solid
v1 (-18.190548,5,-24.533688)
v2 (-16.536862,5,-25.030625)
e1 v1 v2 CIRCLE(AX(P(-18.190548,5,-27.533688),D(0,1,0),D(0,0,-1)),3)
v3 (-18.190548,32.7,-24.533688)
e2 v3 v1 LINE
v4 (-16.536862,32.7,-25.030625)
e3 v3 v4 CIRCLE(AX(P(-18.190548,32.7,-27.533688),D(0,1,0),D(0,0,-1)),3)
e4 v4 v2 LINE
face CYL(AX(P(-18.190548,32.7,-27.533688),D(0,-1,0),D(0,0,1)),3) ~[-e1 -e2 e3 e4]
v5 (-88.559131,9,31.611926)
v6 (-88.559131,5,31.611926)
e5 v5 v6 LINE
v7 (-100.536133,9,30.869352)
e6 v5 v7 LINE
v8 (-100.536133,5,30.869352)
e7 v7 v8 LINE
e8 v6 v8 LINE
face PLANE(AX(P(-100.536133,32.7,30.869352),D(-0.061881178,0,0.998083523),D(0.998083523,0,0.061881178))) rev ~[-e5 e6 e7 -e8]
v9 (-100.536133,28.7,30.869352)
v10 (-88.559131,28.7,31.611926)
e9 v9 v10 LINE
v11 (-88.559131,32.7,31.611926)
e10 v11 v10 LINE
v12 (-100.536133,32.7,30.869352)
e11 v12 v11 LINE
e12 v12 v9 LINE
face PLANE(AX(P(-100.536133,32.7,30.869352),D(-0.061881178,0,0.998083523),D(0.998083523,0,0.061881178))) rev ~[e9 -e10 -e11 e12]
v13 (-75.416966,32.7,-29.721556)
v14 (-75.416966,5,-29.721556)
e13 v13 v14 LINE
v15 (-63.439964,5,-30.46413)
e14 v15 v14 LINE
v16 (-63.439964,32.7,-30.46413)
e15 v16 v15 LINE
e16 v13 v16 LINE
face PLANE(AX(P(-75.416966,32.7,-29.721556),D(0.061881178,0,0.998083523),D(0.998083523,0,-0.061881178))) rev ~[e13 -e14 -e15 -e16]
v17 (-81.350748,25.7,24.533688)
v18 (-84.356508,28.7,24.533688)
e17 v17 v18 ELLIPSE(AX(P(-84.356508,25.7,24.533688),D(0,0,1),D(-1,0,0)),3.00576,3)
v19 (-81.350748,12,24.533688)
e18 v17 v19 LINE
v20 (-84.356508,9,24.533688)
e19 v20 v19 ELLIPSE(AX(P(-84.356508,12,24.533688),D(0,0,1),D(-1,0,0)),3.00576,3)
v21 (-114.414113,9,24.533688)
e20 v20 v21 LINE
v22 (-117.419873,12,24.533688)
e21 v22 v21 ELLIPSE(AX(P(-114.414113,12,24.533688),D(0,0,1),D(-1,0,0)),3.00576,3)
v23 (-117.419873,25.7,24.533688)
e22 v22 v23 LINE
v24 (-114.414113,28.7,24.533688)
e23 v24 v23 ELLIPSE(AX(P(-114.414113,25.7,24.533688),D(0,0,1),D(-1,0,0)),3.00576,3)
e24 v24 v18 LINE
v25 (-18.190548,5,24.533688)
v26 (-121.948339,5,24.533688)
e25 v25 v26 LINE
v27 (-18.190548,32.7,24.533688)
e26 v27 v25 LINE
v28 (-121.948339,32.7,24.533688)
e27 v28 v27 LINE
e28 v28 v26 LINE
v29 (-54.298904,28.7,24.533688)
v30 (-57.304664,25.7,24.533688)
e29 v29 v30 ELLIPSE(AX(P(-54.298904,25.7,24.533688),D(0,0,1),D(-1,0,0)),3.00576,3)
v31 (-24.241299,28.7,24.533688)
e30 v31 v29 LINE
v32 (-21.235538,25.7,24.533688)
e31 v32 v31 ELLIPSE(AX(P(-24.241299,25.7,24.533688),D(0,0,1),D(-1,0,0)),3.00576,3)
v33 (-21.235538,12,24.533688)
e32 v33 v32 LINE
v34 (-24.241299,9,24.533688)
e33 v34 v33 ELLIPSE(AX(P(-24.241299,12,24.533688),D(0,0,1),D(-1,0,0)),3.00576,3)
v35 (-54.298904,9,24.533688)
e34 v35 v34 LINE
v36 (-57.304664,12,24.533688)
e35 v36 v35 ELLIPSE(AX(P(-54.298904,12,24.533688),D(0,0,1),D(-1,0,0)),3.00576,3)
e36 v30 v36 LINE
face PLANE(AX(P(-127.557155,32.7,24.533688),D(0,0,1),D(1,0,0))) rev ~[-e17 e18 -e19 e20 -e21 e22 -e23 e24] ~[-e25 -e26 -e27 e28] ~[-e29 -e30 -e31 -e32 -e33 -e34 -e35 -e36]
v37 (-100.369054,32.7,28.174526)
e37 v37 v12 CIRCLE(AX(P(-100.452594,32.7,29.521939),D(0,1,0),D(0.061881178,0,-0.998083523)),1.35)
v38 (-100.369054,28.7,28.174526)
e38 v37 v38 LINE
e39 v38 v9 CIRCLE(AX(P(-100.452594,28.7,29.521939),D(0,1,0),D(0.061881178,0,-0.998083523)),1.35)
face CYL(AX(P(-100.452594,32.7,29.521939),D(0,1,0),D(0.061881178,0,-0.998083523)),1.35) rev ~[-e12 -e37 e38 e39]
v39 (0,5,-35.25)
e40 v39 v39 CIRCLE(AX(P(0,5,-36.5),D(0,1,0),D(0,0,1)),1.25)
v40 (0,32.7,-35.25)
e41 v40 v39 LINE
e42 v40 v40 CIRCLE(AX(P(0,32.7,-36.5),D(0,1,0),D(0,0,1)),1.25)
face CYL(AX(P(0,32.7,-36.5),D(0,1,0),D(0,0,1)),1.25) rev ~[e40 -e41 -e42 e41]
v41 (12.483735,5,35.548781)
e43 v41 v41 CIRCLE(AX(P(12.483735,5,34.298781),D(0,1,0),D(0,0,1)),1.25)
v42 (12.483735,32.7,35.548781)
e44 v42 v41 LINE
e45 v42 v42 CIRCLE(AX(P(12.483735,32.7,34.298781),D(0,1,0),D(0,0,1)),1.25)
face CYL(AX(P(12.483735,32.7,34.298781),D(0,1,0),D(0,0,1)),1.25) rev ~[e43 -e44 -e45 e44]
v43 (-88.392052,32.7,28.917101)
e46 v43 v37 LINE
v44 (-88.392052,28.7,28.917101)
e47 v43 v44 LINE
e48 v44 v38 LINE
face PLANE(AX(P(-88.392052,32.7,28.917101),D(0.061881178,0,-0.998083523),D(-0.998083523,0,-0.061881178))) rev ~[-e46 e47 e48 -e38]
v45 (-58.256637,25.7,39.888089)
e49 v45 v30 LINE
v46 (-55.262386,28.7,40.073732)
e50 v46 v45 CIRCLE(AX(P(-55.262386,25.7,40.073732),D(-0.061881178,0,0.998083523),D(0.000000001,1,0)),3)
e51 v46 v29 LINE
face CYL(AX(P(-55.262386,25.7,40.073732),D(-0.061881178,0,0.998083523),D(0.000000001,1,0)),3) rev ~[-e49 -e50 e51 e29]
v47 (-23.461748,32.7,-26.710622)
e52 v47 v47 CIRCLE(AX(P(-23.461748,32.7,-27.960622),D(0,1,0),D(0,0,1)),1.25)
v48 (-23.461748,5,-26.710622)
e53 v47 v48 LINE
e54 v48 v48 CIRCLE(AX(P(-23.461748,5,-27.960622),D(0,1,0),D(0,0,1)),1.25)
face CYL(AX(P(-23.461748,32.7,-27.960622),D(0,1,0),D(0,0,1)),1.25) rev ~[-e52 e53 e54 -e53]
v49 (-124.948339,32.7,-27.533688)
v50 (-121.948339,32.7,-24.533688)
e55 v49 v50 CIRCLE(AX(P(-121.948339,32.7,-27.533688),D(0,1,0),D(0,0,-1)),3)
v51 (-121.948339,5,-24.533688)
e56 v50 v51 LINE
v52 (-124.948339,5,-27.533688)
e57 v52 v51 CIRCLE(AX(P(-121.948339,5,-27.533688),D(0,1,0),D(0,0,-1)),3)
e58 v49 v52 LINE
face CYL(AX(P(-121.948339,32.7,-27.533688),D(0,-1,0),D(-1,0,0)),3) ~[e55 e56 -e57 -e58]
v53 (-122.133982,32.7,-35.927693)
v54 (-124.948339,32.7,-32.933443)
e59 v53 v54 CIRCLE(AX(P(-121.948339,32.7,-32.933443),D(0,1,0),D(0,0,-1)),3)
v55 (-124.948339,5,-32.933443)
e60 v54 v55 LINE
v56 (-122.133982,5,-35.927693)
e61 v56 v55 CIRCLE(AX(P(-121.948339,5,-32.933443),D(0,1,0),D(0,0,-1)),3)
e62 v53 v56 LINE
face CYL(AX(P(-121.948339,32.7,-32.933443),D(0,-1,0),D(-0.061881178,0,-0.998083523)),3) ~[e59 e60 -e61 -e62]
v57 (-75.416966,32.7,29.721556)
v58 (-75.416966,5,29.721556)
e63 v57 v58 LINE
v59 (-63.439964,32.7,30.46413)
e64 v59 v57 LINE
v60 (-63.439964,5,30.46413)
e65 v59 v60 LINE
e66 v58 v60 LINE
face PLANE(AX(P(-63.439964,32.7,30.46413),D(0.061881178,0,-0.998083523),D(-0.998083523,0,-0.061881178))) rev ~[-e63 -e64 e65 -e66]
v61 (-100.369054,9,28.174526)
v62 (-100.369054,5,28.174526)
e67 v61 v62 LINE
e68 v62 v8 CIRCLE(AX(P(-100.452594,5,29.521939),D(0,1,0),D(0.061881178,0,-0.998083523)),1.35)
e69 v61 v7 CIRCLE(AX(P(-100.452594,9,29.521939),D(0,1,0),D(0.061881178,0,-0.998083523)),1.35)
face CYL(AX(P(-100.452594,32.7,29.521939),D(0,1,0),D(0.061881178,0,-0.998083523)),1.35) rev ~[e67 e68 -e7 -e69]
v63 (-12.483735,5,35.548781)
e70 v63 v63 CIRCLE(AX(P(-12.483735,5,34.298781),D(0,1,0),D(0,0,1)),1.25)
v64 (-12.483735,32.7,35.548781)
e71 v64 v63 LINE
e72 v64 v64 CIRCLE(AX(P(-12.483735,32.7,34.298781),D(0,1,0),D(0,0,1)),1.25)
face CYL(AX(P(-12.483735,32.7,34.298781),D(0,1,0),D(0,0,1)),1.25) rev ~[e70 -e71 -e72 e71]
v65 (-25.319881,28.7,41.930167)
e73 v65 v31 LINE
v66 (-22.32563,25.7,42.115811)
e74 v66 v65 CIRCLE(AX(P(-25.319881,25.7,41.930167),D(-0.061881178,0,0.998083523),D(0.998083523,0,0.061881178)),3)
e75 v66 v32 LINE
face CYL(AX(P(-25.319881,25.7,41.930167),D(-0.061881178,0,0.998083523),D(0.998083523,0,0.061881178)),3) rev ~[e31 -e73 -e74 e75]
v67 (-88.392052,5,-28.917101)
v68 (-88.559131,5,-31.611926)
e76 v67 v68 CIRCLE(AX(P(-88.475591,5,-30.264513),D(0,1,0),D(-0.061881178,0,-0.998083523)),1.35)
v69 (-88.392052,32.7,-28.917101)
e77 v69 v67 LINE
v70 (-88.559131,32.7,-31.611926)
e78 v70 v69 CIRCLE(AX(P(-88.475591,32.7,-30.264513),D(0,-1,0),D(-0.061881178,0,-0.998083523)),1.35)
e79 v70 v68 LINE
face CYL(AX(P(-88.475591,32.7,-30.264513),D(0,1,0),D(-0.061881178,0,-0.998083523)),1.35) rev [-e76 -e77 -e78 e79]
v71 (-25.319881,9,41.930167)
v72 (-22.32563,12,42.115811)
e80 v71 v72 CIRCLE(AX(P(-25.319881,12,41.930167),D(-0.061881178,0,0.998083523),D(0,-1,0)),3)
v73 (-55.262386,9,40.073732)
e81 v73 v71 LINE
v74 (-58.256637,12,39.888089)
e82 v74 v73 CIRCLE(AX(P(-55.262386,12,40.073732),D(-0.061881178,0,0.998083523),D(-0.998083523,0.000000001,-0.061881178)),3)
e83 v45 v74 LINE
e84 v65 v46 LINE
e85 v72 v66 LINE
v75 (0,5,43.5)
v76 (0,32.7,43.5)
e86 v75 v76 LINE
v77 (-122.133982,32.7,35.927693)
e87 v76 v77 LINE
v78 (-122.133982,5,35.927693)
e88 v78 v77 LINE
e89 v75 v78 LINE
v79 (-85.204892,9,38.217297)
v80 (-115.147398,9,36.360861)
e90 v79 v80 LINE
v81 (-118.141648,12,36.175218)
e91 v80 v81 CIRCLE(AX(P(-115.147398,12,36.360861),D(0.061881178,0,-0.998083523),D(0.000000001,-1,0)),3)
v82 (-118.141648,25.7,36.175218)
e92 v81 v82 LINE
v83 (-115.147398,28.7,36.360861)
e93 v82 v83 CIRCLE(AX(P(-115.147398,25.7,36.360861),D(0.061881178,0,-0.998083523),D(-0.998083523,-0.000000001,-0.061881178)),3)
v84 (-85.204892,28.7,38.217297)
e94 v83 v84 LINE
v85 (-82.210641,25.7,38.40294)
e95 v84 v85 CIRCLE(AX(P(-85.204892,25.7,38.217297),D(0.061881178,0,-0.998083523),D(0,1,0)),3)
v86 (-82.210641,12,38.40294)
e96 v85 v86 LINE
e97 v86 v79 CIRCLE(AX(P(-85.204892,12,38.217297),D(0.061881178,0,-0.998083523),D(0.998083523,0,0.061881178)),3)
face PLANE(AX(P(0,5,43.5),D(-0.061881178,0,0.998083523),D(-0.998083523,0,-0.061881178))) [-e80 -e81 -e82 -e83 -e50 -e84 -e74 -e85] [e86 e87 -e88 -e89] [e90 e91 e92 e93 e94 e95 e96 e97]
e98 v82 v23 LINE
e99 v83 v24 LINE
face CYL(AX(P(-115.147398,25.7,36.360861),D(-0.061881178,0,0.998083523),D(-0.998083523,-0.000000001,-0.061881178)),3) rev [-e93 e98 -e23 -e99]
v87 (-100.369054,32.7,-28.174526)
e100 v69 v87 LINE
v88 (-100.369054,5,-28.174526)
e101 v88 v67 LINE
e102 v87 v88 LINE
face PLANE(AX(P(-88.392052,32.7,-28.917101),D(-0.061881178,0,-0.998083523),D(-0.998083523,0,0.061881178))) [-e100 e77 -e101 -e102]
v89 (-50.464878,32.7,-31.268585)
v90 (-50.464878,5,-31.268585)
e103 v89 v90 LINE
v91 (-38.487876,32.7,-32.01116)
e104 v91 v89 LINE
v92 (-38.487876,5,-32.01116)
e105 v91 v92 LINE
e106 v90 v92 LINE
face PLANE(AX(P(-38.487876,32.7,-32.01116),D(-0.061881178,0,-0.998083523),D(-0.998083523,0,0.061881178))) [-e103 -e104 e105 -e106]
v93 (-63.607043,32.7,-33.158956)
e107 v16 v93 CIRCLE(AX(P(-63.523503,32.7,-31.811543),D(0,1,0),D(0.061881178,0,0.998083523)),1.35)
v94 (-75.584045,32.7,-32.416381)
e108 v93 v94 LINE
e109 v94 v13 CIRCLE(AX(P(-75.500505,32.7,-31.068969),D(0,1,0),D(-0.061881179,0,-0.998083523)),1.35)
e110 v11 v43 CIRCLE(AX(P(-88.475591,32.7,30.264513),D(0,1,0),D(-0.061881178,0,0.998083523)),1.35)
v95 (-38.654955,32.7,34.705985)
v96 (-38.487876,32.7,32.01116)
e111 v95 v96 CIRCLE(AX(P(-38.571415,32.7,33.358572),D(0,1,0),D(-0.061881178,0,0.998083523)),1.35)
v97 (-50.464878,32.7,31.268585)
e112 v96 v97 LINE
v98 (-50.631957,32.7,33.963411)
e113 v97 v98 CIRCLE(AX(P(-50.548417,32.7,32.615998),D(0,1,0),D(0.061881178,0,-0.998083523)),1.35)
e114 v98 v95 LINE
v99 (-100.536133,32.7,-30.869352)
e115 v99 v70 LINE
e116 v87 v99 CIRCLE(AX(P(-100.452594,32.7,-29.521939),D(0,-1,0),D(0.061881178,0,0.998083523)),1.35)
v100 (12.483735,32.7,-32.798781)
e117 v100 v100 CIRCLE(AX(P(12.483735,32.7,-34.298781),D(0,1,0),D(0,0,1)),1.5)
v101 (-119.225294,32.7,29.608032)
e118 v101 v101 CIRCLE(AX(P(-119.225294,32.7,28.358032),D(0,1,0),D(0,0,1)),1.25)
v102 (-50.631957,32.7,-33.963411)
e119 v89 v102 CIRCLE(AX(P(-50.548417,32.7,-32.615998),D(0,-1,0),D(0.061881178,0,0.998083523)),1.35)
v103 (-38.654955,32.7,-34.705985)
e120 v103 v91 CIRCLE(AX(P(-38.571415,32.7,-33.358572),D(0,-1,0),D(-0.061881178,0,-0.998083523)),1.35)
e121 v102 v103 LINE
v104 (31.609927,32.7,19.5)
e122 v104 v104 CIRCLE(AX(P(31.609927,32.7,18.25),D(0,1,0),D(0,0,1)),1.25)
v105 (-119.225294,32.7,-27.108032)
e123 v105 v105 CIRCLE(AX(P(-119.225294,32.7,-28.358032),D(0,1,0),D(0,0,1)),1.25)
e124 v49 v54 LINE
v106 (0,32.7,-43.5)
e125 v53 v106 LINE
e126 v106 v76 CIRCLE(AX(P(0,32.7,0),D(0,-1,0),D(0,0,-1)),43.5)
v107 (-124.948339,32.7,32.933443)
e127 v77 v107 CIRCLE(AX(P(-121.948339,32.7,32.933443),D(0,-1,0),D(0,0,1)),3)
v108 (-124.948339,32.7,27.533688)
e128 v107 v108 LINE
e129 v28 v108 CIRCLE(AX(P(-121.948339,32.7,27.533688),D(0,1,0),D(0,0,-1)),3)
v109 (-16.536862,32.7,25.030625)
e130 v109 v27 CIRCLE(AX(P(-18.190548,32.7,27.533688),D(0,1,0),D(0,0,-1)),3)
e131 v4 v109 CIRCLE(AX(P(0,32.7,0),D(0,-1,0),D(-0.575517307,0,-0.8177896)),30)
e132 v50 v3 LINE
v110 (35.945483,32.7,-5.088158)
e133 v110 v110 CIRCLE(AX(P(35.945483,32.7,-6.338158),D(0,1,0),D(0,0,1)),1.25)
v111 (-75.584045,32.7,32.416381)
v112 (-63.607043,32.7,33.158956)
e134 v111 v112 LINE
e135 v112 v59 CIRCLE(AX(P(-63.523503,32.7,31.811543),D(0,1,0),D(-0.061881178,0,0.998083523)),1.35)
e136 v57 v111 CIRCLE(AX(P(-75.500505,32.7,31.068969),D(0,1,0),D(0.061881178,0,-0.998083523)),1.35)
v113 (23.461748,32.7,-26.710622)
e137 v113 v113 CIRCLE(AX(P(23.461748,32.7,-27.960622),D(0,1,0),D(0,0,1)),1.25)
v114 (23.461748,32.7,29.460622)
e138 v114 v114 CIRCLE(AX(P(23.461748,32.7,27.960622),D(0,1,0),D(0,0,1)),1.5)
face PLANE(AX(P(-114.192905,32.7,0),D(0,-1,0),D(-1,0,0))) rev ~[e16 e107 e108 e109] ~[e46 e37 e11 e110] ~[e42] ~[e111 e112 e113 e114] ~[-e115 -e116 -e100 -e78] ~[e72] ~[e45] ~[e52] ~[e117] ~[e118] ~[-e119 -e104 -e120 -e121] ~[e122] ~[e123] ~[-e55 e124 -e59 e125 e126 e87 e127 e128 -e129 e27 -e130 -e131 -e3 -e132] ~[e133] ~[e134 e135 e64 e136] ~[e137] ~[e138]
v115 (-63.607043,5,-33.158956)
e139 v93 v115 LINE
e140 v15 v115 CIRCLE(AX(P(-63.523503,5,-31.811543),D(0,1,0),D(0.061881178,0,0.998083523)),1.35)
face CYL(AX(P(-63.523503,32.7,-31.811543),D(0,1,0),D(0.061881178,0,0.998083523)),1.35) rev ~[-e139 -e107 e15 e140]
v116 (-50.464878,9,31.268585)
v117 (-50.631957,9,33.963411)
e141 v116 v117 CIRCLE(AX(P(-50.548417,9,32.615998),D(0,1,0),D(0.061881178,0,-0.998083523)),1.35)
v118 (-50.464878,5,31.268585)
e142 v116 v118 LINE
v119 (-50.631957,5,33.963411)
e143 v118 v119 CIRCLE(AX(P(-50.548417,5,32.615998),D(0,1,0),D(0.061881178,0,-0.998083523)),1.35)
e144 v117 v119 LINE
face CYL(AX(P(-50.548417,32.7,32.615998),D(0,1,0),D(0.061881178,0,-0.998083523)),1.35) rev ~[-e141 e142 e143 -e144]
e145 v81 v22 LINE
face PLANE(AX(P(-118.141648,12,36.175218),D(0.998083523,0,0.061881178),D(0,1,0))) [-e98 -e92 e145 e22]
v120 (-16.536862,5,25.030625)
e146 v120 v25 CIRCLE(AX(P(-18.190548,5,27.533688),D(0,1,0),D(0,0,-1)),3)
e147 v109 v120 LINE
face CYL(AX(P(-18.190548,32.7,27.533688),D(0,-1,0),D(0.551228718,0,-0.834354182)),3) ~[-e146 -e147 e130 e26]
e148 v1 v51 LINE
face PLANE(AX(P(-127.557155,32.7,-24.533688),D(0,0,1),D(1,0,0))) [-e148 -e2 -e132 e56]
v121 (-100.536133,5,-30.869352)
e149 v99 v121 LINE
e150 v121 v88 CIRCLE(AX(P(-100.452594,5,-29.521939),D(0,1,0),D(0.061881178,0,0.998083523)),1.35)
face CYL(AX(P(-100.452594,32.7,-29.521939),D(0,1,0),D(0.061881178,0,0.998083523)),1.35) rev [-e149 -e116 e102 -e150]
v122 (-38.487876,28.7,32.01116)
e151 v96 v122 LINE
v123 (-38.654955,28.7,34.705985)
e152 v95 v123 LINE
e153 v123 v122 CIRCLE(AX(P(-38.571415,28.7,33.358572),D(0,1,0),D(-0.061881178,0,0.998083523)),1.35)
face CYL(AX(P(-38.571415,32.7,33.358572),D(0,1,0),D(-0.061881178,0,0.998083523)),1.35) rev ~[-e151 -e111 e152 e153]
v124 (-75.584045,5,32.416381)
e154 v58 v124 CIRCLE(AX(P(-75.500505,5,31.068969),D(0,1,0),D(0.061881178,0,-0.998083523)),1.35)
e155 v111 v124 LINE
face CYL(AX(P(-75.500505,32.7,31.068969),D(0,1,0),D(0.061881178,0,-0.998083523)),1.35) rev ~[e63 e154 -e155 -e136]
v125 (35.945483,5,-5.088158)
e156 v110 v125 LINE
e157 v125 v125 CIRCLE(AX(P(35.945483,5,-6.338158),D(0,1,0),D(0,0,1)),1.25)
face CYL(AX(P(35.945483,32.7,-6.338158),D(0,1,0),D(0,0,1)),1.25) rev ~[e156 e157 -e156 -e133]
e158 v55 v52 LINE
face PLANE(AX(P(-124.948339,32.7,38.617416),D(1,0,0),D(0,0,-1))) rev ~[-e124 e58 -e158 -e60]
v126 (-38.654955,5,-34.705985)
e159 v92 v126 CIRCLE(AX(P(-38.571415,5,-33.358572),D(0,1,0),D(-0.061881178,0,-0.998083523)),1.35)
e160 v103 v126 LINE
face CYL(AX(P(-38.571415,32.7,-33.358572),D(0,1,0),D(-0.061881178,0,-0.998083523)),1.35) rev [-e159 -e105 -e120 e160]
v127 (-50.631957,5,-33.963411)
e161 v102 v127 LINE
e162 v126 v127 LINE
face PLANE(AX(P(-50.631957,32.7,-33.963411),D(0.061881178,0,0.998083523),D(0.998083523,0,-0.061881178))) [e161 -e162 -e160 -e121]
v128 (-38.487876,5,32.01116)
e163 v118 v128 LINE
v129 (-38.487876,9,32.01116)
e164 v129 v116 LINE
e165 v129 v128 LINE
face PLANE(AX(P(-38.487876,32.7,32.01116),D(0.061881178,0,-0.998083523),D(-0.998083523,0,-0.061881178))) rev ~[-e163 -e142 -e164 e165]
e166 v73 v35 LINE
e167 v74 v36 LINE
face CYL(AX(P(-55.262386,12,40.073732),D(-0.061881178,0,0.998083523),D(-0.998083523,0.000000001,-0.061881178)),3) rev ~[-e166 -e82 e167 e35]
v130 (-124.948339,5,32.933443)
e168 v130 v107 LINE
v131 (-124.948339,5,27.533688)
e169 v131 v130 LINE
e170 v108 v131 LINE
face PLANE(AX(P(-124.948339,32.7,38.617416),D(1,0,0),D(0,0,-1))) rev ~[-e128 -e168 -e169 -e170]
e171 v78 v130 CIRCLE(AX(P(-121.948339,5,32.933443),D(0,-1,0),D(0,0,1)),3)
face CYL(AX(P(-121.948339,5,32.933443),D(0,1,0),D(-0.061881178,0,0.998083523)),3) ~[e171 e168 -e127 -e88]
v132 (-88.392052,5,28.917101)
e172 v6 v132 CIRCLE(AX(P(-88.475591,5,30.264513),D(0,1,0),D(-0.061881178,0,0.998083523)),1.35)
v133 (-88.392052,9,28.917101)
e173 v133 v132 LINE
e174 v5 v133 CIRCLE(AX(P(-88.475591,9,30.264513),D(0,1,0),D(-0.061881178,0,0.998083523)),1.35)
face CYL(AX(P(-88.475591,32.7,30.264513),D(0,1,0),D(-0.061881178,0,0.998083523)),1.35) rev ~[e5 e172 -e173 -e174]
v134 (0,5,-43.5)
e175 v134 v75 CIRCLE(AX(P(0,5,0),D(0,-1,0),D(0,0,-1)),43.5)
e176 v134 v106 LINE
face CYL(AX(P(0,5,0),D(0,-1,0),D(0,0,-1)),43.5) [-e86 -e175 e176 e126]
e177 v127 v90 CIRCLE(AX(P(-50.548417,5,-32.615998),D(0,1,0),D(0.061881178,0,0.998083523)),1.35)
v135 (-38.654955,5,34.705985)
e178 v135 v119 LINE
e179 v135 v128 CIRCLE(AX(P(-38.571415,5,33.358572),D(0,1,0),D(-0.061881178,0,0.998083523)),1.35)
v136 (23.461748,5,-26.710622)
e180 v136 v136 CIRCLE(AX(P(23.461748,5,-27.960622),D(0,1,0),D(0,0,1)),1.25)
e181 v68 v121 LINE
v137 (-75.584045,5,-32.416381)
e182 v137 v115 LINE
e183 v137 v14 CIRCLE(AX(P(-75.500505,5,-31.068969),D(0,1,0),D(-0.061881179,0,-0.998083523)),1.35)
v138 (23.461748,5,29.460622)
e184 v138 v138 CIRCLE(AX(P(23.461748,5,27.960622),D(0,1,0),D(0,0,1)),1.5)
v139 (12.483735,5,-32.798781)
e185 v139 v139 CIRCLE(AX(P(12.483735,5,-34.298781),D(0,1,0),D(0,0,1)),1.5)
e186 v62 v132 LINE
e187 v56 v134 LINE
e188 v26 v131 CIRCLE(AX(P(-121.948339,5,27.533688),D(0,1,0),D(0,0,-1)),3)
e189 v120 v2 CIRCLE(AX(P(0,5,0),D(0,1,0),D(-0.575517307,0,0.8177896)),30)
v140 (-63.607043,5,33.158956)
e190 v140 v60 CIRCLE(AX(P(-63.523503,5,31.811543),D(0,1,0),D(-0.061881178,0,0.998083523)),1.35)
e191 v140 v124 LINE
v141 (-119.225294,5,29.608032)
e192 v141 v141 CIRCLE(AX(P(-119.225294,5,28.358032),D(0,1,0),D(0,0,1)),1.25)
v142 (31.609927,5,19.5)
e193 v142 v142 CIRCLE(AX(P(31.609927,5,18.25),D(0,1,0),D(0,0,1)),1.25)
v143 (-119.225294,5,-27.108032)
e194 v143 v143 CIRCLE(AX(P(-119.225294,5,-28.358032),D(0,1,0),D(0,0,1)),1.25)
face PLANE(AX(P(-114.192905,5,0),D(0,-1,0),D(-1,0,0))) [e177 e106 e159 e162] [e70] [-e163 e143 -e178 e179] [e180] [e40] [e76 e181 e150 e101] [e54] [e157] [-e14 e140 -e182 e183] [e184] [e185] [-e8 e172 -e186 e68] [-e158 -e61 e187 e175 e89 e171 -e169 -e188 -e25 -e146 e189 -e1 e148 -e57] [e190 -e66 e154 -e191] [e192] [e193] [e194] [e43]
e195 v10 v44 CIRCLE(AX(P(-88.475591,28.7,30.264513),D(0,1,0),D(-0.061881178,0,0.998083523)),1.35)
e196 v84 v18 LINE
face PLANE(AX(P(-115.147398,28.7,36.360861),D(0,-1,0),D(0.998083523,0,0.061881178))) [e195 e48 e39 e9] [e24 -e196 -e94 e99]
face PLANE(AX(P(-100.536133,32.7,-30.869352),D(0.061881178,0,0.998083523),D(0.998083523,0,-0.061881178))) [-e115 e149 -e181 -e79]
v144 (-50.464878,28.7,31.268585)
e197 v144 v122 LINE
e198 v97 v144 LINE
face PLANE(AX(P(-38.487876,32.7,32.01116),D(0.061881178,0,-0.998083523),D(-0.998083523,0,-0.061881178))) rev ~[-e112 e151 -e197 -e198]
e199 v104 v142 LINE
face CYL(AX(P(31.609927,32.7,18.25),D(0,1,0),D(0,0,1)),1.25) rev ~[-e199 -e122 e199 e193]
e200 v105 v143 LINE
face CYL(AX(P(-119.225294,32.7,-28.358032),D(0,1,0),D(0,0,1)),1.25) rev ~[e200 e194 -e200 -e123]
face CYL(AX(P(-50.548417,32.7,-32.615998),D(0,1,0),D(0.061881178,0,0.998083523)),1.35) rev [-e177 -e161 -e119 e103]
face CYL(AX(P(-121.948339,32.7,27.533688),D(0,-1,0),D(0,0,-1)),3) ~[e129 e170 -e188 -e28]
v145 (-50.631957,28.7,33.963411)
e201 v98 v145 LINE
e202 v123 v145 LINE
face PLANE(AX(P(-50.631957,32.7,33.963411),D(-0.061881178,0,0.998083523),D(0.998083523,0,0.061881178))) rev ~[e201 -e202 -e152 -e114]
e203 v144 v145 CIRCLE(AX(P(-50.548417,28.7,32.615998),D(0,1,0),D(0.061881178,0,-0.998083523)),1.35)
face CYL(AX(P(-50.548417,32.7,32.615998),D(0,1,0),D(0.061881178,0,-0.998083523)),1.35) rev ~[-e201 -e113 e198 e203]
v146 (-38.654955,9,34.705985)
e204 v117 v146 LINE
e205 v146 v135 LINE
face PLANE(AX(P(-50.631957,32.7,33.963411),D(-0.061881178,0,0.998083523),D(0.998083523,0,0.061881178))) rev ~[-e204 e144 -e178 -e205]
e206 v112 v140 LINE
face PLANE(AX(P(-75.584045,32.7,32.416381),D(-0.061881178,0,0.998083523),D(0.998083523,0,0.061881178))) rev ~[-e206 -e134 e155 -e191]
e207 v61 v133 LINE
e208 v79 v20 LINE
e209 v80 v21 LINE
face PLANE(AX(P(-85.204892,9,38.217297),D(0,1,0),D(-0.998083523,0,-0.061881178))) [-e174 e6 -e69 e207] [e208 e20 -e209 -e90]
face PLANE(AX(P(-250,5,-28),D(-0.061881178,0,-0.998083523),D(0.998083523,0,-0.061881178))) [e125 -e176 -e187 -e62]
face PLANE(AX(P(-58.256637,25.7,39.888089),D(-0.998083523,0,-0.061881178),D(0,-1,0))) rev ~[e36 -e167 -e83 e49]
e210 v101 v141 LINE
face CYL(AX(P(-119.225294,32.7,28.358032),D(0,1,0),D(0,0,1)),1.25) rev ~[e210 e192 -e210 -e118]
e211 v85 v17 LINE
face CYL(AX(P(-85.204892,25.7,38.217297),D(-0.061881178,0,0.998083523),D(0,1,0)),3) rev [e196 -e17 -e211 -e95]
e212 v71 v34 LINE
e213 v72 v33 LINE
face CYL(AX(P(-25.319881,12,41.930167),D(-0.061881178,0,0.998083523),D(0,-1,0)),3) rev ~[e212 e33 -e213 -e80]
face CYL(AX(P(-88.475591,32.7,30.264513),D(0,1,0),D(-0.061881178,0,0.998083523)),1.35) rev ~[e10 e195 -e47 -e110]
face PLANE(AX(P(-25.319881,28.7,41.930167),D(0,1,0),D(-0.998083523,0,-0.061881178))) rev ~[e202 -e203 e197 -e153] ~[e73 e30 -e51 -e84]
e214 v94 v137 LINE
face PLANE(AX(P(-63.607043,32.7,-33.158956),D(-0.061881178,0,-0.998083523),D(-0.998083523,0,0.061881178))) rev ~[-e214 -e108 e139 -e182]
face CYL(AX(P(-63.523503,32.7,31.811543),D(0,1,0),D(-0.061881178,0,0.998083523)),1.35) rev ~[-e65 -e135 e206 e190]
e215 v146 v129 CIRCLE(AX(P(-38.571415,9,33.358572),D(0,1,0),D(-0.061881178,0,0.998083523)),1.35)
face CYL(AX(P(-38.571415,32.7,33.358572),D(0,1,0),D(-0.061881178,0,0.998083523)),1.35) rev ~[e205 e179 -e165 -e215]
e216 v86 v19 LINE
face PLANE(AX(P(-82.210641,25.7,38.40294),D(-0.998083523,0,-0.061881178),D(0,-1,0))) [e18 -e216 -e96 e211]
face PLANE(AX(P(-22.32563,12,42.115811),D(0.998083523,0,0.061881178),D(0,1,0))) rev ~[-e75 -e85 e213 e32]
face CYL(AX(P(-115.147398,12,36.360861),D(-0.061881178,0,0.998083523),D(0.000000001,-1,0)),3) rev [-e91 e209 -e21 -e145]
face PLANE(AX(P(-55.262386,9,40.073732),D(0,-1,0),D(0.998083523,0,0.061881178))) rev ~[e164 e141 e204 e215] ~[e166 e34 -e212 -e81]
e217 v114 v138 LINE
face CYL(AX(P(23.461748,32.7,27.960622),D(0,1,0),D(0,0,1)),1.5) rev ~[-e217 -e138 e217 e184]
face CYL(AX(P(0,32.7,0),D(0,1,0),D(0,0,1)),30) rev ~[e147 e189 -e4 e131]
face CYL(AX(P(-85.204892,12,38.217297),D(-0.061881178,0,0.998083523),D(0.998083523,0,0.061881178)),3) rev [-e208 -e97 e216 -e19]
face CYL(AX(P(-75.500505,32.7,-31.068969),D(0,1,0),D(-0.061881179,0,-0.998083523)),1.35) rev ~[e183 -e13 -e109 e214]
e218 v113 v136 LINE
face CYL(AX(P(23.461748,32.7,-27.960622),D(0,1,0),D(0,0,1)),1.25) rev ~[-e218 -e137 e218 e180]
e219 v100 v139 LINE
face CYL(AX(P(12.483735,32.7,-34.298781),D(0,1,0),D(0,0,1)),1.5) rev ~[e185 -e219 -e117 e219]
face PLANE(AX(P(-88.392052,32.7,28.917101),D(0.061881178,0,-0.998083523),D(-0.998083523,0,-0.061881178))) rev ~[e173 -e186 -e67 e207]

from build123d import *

# Parameters (mm, degrees)
EXTRUDE_1_DEPTH     = 27.7
SKETCH_3_R          = 1.25
SKETCH_3_R_2        = 30
SKETCH_3_R_3        = 1.5
CUT_EXTRUDE_1_DEPTH = 30
CUT_EXTRUDE_2_DEPTH = 3
SKETCH_5_R          = 1.25
CUT_EXTRUDE_3_DEPTH = 30
SKETCH_6_W          = 156.727051789
SKETCH_6_H          = 77.251269398
CUT_EXTRUDE_4_DEPTH = 36
SKETCH_7_W          = 110.29163623
SKETCH_7_H          = 49.067375992
CUT_EXTRUDE_5_DEPTH = 36
FILLET_1_R          = 3
CUT_EXTRUDE_6_DEPTH = 40
CUT_EXTRUDE_7_DEPTH = 40
FILLET_2_R          = 3


with BuildPart() as part:
    # 草图2 → 凸台-拉伸1 (new body)
    with BuildSketch(Plane(origin=(0, 5, 0), x_dir=(1, 0, 0), z_dir=(0, 1, 0))):
        with BuildLine():
            Line((-250, 28), (0, 43.5))
            ThreePointArc((0, 43.5), (43.5, 0), (0, -43.5))
            Line((0, -43.5), (-250, -28))
            ThreePointArc((-250, -28), (-278, 0), (-250, 28))
        make_face()
    extrude(amount=EXTRUDE_1_DEPTH)

    # 草图3 → 切除-拉伸1 (cut)
    with BuildSketch(Plane(origin=(0, 32.7, 0), x_dir=(1, 0, 0), z_dir=(0, 1, 0))):
        with Locations(Location((-250, 4, 0), (0, 0, 270))):
            Circle(SKETCH_3_R)
        with Locations(Location((-246, 0, 0), (0, 0, 270))):
            Circle(SKETCH_3_R)
        with Locations(Location((-250, -4, 0), (0, 0, 270))):
            Circle(SKETCH_3_R)
        with Locations(Location((-254, 0, 0), (0, 0, 270))):
            Circle(SKETCH_3_R)
        with Locations(Location((0, 0, 0), (0, 0, 270))):
            Circle(SKETCH_3_R_2)
        with Locations(Location((0, 36.5, 0), (0, 0, 270))):
            Circle(SKETCH_3_R)
        with Locations(Location((12.483735231, 34.298780659, 0), (0, 0, 270))):
            Circle(SKETCH_3_R_3)
        with Locations(Location((23.461747754, 27.960622174, 0), (0, 0, 270))):
            Circle(SKETCH_3_R)
        with Locations(Location((-23.461747754, 27.960622174, 0), (0, 0, 270))):
            Circle(SKETCH_3_R)
        with Locations(Location((-35.945482985, 6.338158485, 0), (0, 0, 270))):
            Circle(SKETCH_3_R)
        with Locations(Location((-35.945482985, -6.338158485, 0), (0, 0, 270))):
            Circle(SKETCH_3_R_3)
        with Locations(Location((-31.609927238, -18.25, 0), (0, 0, 270))):
            Circle(SKETCH_3_R)
        with Locations(Location((-12.483735231, -34.298780659, 0), (0, 0, 270))):
            Circle(SKETCH_3_R)
        with Locations(Location((12.483735231, -34.298780659, 0), (0, 0, 270))):
            Circle(SKETCH_3_R)
        with Locations(Location((23.461747754, -27.960622174, 0), (0, 0, 270))):
            Circle(SKETCH_3_R_3)
        with Locations(Location((31.609927238, -18.25, 0), (0, 0, 270))):
            Circle(SKETCH_3_R)
        with Locations(Location((35.945482985, 6.338158485, 0), (0, 0, 270))):
            Circle(SKETCH_3_R)
        with BuildLine():
            ThreePointArc((-265.553651429, 15.553651429), (-265.553651429, 11.316406256), (-261.316406256, 11.316406256))
            ThreePointArc((-261.316406256, 11.316406256), (-250, 16.003815204), (-238.683593744, 11.316406256))
            ThreePointArc((-238.683593744, 11.316406256), (-234.446348571, 11.316406256), (-234.446348571, 15.553651429))
            ThreePointArc((-234.446348571, 15.553651429), (-250, 21.996184796), (-265.553651429, 15.553651429))
        make_face()
        with BuildLine():
            ThreePointArc((-261.316406256, -11.316406256), (-250, -16.003815204), (-238.683593744, -11.316406256))
            ThreePointArc((-238.683593744, -11.316406256), (-234.446348571, -11.316406256), (-234.446348571, -15.553651429))
            ThreePointArc((-234.446348571, -15.553651429), (-250, -21.996184796), (-265.553651429, -15.553651429))
            ThreePointArc((-265.553651429, -15.553651429), (-265.553651429, -11.316406256), (-261.316406256, -11.316406256))
        make_face()
    extrude(amount=-CUT_EXTRUDE_1_DEPTH, mode=Mode.SUBTRACT)

    # 草图4 → 切除-拉伸2 (cut)
    with BuildSketch(Plane(origin=(0, 32.7, 0), x_dir=(1, 0, 0), z_dir=(0, 1, 0))):
        with BuildLine():
            Line((-216.23889617, 1.5), (-205.267472927, 20.503062488))
            ThreePointArc((-205.267472927, 20.503062488), (-199.762485666, 21.978119379), (-198.287428775, 16.473132117))
            Line((-198.287428775, 16.473132117), (-206.932170633, 1.5))
            ThreePointArc((-206.932170633, 1.5), (-207.334094422, 0), (-206.932170633, -1.5))
            Line((-206.932170633, -1.5), (-198.287428775, -16.473132117))
            ThreePointArc((-198.287428775, -16.473132117), (-199.762485666, -21.978119379), (-205.267472927, -20.503062488))
            Line((-205.267472927, -20.503062488), (-216.23889617, -1.5))
            ThreePointArc((-216.23889617, -1.5), (-216.640819958, 0), (-216.23889617, 1.5))
        make_face()
        with BuildLine():
            Line((-54.444025551, 1.5), (-65.7023558, 21))
            ThreePointArc((-65.7023558, 21), (-66.800432012, 22.098076211), (-68.300432012, 22.5))
            Line((-68.300432012, 22.5), (-90.81709251, 22.5))
            ThreePointArc((-90.81709251, 22.5), (-92.31709251, 22.098076211), (-93.415168722, 21))
            Line((-93.415168722, 21), (-104.673498971, 1.5))
            ThreePointArc((-104.673498971, 1.5), (-105.075422759, 0), (-104.673498971, -1.5))
            Line((-104.673498971, -1.5), (-93.415168722, -21))
            ThreePointArc((-93.415168722, -21), (-92.31709251, -22.098076211), (-90.81709251, -22.5))
            Line((-90.81709251, -22.5), (-68.300432012, -22.5))
            ThreePointArc((-68.300432012, -22.5), (-66.800432012, -22.098076211), (-65.7023558, -21))
            Line((-65.7023558, -21), (-54.444025551, -1.5))
            ThreePointArc((-54.444025551, -1.5), (-54.042101763, 0), (-54.444025551, 1.5))
        make_face()
        with BuildLine():
            Line((-188.932170633, -1.5), (-180.287428775, -16.473132117))
            ThreePointArc((-180.287428775, -16.473132117), (-181.762485666, -21.978119379), (-187.267472927, -20.503062488))
            Line((-187.267472927, -20.503062488), (-198.23889617, -1.5))
            ThreePointArc((-198.23889617, -1.5), (-198.640819958, 0), (-198.23889617, 1.5))
            Line((-198.23889617, 1.5), (-187.267472927, 20.503062488))
            ThreePointArc((-187.267472927, 20.503062488), (-181.762485666, 21.978119379), (-180.287428775, 16.473132117))
            Line((-180.287428775, 16.473132117), (-188.932170633, 1.5))
            ThreePointArc((-188.932170633, 1.5), (-189.334094422, 0), (-188.932170633, -1.5))
        make_face()
        with BuildLine():
            Line((-170.932170633, -1.5), (-162.287428775, -16.473132117))
            ThreePointArc((-162.287428775, -16.473132117), (-163.762485666, -21.978119379), (-169.267472927, -20.503062488))
            Line((-169.267472927, -20.503062488), (-180.23889617, -1.5))
            ThreePointArc((-180.23889617, -1.5), (-180.640819958, 0), (-180.23889617, 1.5))
            Line((-180.23889617, 1.5), (-169.267472927, 20.503062488))
            ThreePointArc((-169.267472927, 20.503062488), (-163.762485666, 21.978119379), (-162.287428775, 16.473132117))
            Line((-162.287428775, 16.473132117), (-170.932170633, 1.5))
            ThreePointArc((-170.932170633, 1.5), (-171.334094422, 0), (-170.932170633, -1.5))
        make_face()
        with BuildLine():
            Line((-152.932170633, -1.5), (-144.287428775, -16.473132117))
            ThreePointArc((-144.287428775, -16.473132117), (-145.762485666, -21.978119379), (-151.267472927, -20.503062488))
            Line((-151.267472927, -20.503062488), (-162.23889617, -1.5))
            ThreePointArc((-162.23889617, -1.5), (-162.640819958, 0), (-162.23889617, 1.5))
            Line((-162.23889617, 1.5), (-151.267472927, 20.503062488))
            ThreePointArc((-151.267472927, 20.503062488), (-145.762485666, 21.978119379), (-144.287428775, 16.473132117))
            Line((-144.287428775, 16.473132117), (-152.932170633, 1.5))
            ThreePointArc((-152.932170633, 1.5), (-153.334094422, 0), (-152.932170633, -1.5))
        make_face()
        with BuildLine():
            Line((-134.932170633, -1.5), (-126.287428775, -16.473132117))
            ThreePointArc((-126.287428775, -16.473132117), (-127.762485666, -21.978119379), (-133.267472927, -20.503062488))
            Line((-133.267472927, -20.503062488), (-144.23889617, -1.5))
            ThreePointArc((-144.23889617, -1.5), (-144.640819958, 0), (-144.23889617, 1.5))
            Line((-144.23889617, 1.5), (-133.267472927, 20.503062488))
            ThreePointArc((-133.267472927, 20.503062488), (-127.762485666, 21.978119379), (-126.287428775, 16.473132117))
            Line((-126.287428775, 16.473132117), (-134.932170633, 1.5))
            ThreePointArc((-134.932170633, 1.5), (-135.334094422, 0), (-134.932170633, -1.5))
        make_face()
        with BuildLine():
            Line((-116.932170633, -1.5), (-108.287428775, -16.473132117))
            ThreePointArc((-108.287428775, -16.473132117), (-109.762485666, -21.978119379), (-115.267472927, -20.503062488))
            Line((-115.267472927, -20.503062488), (-126.23889617, -1.5))
            ThreePointArc((-126.23889617, -1.5), (-126.640819958, 0), (-126.23889617, 1.5))
            Line((-126.23889617, 1.5), (-115.267472927, 20.503062488))
            ThreePointArc((-115.267472927, 20.503062488), (-109.762485666, 21.978119379), (-108.287428775, 16.473132117))
            Line((-108.287428775, 16.473132117), (-116.932170633, 1.5))
            ThreePointArc((-116.932170633, 1.5), (-117.334094422, 0), (-116.932170633, -1.5))
        make_face()
    extrude(amount=-CUT_EXTRUDE_2_DEPTH, mode=Mode.SUBTRACT)

    # 草图5 → 切除-拉伸3 (cut)
    with BuildSketch(Plane(origin=(0, 32.7, 0), x_dir=(1, 0, 0), z_dir=(0, 1, 0))):
        with Locations(Location((-44.941689831, 32.96361523, 0), (0, 0, 270))):
            Circle(SKETCH_5_R)
        with Locations(Location((-69.702891128, 31.42842075, 0), (0, 0, 270))):
            Circle(SKETCH_5_R)
        with Locations(Location((-119.225293723, 28.358031789, 0), (0, 0, 270))):
            Circle(SKETCH_5_R)
        with Locations(Location((-94.464092426, 29.89322627, 0), (0, 0, 270))):
            Circle(SKETCH_5_R)
        with Locations(Location((-44.941689831, -32.96361523, 0), (0, 0, 270))):
            Circle(SKETCH_5_R)
        with Locations(Location((-69.702891128, -31.42842075, 0), (0, 0, 270))):
            Circle(SKETCH_5_R)
        with Locations(Location((-94.464092426, -29.89322627, 0), (0, 0, 270))):
            Circle(SKETCH_5_R)
        with Locations(Location((-119.225293723, -28.358031789, 0), (0, 0, 270))):
            Circle(SKETCH_5_R)
    extrude(amount=-CUT_EXTRUDE_3_DEPTH, mode=Mode.SUBTRACT)

    # 草图6 → 切除-拉伸4 (cut)
    with BuildSketch(Plane(origin=(0, 32.7, 0), x_dir=(1, 0, 0), z_dir=(0, 1, 0))):
        with Locations((-203.311864761, 0.008219016)):
            Rectangle(SKETCH_6_W, SKETCH_6_H)
    extrude(amount=-CUT_EXTRUDE_4_DEPTH, mode=Mode.SUBTRACT)

    # 草图7 → 切除-拉伸5 (cut)
    with BuildSketch(Plane(origin=(0, 32.7, 0), x_dir=(1, 0, 0), z_dir=(0, 1, 0))):
        with Locations((-72.411337318, 0)):
            Rectangle(SKETCH_7_W, SKETCH_7_H)
    extrude(amount=-CUT_EXTRUDE_5_DEPTH, mode=Mode.SUBTRACT)

    # 圆角1
    fillet_1_edges = [part.edges().sort_by_distance(p)[0] for p in [
        (-124.948338866, 18.85, -35.75320299),
    ]]
    fillet(fillet_1_edges, radius=FILLET_1_R)

    # 草图8 → 切除-拉伸6 (cut)
    with BuildSketch(Plane(origin=(0, 32.7, 0), x_dir=(1, 0, 0), z_dir=(0, 1, 0))):
        with BuildLine():
            Line((-100.536133157, 30.869351956), (-88.559130876, 31.611926097))
            ThreePointArc((-88.559130876, 31.611926097), (-87.128178529, 30.348052931), (-88.392051694, 28.917100584))
            Line((-88.392051694, 28.917100584), (-100.369053976, 28.174526442))
            ThreePointArc((-100.369053976, 28.174526442), (-101.800006323, 29.438399608), (-100.536133157, 30.869351956))
        make_face()
        with BuildLine():
            Line((-75.41696589, 29.721555904), (-63.439963609, 30.464130045))
            ThreePointArc((-63.439963609, 30.464130045), (-62.176090443, 31.895082393), (-63.60704279, 33.158955558))
            Line((-63.60704279, 33.158955558), (-75.584045072, 32.416381417))
            ThreePointArc((-75.584045072, 32.416381417), (-76.847918237, 30.985429069), (-75.41696589, 29.721555904))
        make_face()
        with BuildLine():
            Line((-50.631956986, 33.963410878), (-38.654954704, 34.70598502))
            ThreePointArc((-38.654954704, 34.70598502), (-37.224002357, 33.442111854), (-38.487875523, 32.011159506))
            Line((-38.487875523, 32.011159506), (-50.464877804, 31.268585365))
            ThreePointArc((-50.464877804, 31.268585365), (-51.895830151, 32.532458531), (-50.631956986, 33.963410878))
        make_face()
        with BuildLine():
            Line((-50.631956986, -33.963410878), (-38.654954704, -34.70598502))
            ThreePointArc((-38.654954704, -34.70598502), (-37.224002357, -33.442111854), (-38.487875523, -32.011159506))
            Line((-38.487875523, -32.011159506), (-50.464877804, -31.268585365))
            ThreePointArc((-50.464877804, -31.268585365), (-51.895830151, -32.532458531), (-50.631956986, -33.963410878))
        make_face()
        with BuildLine():
            Line((-75.584045072, -32.416381417), (-63.60704279, -33.158955558))
            ThreePointArc((-63.60704279, -33.158955558), (-62.176090443, -31.895082393), (-63.439963609, -30.464130045))
            Line((-63.439963609, -30.464130045), (-75.41696589, -29.721555904))
            ThreePointArc((-75.41696589, -29.721555904), (-76.847918237, -30.985429069), (-75.584045072, -32.416381417))
        make_face()
        with BuildLine():
            Line((-100.536133157, -30.869351956), (-88.559130876, -31.611926097))
            ThreePointArc((-88.559130876, -31.611926097), (-87.128178529, -30.348052931), (-88.392051694, -28.917100584))
            Line((-88.392051694, -28.917100584), (-100.369053976, -28.174526442))
            ThreePointArc((-100.369053976, -28.174526442), (-101.800006323, -29.438399608), (-100.536133157, -30.869351956))
        make_face()
    extrude(amount=-CUT_EXTRUDE_6_DEPTH, mode=Mode.SUBTRACT)

    # 草图9 → 切除-拉伸7 (cut)
    with BuildSketch(Plane(origin=(-2.686672431, 0, 43.333426309), x_dir=(0.9980835234354231, 0, 0.06188117845299609), z_dir=(-0.06188117845299609, 6.9829626776862675e-15, 0.9980835234354231))):
        with BuildLine():
            Line((-55.676667498, 25.7), (-55.676667498, 12))
            ThreePointArc((-55.676667498, 12), (-54.797987842, 9.878679656), (-52.676667498, 9))
            Line((-52.676667498, 9), (-22.676667498, 9))
            ThreePointArc((-22.676667498, 9), (-20.555347155, 9.878679656), (-19.676667498, 12))
            Line((-19.676667498, 12), (-19.676667498, 25.7))
            ThreePointArc((-19.676667498, 25.7), (-20.555347155, 27.821320344), (-22.676667498, 28.7))
            Line((-22.676667498, 28.7), (-52.676667498, 28.7))
            ThreePointArc((-52.676667498, 28.7), (-54.797987842, 27.821320344), (-55.676667498, 25.7))
        make_face()
        with BuildLine():
            Line((-112.676667498, 28.7), (-82.676667498, 28.7))
            ThreePointArc((-82.676667498, 28.7), (-80.555347155, 27.821320344), (-79.676667498, 25.7))
            Line((-79.676667498, 25.7), (-79.676667498, 12))
            ThreePointArc((-79.676667498, 12), (-80.555347155, 9.878679656), (-82.676667498, 9))
            Line((-82.676667498, 9), (-112.676667498, 9))
            ThreePointArc((-112.676667498, 9), (-114.797987842, 9.878679656), (-115.676667498, 12))
            Line((-115.676667498, 12), (-115.676667498, 25.7))
            ThreePointArc((-115.676667498, 25.7), (-114.797987842, 27.821320344), (-112.676667498, 28.7))
        make_face()
    extrude(amount=-CUT_EXTRUDE_7_DEPTH, mode=Mode.SUBTRACT)

    # 圆角2
    fillet_2_edges = [part.edges().sort_by_distance(p)[0] for p in [
        (-124.948338866, 18.85, 35.75320299),
        (-124.948338866, 18.85, -24.533687996),
        (-124.948338866, 18.85, 24.533687996),
        (-17.265519203, 18.85, 24.533687996),
        (-17.265519203, 18.85, -24.533687996),
    ]]
    fillet(fillet_2_edges, radius=FILLET_2_R)


solid = part.part
